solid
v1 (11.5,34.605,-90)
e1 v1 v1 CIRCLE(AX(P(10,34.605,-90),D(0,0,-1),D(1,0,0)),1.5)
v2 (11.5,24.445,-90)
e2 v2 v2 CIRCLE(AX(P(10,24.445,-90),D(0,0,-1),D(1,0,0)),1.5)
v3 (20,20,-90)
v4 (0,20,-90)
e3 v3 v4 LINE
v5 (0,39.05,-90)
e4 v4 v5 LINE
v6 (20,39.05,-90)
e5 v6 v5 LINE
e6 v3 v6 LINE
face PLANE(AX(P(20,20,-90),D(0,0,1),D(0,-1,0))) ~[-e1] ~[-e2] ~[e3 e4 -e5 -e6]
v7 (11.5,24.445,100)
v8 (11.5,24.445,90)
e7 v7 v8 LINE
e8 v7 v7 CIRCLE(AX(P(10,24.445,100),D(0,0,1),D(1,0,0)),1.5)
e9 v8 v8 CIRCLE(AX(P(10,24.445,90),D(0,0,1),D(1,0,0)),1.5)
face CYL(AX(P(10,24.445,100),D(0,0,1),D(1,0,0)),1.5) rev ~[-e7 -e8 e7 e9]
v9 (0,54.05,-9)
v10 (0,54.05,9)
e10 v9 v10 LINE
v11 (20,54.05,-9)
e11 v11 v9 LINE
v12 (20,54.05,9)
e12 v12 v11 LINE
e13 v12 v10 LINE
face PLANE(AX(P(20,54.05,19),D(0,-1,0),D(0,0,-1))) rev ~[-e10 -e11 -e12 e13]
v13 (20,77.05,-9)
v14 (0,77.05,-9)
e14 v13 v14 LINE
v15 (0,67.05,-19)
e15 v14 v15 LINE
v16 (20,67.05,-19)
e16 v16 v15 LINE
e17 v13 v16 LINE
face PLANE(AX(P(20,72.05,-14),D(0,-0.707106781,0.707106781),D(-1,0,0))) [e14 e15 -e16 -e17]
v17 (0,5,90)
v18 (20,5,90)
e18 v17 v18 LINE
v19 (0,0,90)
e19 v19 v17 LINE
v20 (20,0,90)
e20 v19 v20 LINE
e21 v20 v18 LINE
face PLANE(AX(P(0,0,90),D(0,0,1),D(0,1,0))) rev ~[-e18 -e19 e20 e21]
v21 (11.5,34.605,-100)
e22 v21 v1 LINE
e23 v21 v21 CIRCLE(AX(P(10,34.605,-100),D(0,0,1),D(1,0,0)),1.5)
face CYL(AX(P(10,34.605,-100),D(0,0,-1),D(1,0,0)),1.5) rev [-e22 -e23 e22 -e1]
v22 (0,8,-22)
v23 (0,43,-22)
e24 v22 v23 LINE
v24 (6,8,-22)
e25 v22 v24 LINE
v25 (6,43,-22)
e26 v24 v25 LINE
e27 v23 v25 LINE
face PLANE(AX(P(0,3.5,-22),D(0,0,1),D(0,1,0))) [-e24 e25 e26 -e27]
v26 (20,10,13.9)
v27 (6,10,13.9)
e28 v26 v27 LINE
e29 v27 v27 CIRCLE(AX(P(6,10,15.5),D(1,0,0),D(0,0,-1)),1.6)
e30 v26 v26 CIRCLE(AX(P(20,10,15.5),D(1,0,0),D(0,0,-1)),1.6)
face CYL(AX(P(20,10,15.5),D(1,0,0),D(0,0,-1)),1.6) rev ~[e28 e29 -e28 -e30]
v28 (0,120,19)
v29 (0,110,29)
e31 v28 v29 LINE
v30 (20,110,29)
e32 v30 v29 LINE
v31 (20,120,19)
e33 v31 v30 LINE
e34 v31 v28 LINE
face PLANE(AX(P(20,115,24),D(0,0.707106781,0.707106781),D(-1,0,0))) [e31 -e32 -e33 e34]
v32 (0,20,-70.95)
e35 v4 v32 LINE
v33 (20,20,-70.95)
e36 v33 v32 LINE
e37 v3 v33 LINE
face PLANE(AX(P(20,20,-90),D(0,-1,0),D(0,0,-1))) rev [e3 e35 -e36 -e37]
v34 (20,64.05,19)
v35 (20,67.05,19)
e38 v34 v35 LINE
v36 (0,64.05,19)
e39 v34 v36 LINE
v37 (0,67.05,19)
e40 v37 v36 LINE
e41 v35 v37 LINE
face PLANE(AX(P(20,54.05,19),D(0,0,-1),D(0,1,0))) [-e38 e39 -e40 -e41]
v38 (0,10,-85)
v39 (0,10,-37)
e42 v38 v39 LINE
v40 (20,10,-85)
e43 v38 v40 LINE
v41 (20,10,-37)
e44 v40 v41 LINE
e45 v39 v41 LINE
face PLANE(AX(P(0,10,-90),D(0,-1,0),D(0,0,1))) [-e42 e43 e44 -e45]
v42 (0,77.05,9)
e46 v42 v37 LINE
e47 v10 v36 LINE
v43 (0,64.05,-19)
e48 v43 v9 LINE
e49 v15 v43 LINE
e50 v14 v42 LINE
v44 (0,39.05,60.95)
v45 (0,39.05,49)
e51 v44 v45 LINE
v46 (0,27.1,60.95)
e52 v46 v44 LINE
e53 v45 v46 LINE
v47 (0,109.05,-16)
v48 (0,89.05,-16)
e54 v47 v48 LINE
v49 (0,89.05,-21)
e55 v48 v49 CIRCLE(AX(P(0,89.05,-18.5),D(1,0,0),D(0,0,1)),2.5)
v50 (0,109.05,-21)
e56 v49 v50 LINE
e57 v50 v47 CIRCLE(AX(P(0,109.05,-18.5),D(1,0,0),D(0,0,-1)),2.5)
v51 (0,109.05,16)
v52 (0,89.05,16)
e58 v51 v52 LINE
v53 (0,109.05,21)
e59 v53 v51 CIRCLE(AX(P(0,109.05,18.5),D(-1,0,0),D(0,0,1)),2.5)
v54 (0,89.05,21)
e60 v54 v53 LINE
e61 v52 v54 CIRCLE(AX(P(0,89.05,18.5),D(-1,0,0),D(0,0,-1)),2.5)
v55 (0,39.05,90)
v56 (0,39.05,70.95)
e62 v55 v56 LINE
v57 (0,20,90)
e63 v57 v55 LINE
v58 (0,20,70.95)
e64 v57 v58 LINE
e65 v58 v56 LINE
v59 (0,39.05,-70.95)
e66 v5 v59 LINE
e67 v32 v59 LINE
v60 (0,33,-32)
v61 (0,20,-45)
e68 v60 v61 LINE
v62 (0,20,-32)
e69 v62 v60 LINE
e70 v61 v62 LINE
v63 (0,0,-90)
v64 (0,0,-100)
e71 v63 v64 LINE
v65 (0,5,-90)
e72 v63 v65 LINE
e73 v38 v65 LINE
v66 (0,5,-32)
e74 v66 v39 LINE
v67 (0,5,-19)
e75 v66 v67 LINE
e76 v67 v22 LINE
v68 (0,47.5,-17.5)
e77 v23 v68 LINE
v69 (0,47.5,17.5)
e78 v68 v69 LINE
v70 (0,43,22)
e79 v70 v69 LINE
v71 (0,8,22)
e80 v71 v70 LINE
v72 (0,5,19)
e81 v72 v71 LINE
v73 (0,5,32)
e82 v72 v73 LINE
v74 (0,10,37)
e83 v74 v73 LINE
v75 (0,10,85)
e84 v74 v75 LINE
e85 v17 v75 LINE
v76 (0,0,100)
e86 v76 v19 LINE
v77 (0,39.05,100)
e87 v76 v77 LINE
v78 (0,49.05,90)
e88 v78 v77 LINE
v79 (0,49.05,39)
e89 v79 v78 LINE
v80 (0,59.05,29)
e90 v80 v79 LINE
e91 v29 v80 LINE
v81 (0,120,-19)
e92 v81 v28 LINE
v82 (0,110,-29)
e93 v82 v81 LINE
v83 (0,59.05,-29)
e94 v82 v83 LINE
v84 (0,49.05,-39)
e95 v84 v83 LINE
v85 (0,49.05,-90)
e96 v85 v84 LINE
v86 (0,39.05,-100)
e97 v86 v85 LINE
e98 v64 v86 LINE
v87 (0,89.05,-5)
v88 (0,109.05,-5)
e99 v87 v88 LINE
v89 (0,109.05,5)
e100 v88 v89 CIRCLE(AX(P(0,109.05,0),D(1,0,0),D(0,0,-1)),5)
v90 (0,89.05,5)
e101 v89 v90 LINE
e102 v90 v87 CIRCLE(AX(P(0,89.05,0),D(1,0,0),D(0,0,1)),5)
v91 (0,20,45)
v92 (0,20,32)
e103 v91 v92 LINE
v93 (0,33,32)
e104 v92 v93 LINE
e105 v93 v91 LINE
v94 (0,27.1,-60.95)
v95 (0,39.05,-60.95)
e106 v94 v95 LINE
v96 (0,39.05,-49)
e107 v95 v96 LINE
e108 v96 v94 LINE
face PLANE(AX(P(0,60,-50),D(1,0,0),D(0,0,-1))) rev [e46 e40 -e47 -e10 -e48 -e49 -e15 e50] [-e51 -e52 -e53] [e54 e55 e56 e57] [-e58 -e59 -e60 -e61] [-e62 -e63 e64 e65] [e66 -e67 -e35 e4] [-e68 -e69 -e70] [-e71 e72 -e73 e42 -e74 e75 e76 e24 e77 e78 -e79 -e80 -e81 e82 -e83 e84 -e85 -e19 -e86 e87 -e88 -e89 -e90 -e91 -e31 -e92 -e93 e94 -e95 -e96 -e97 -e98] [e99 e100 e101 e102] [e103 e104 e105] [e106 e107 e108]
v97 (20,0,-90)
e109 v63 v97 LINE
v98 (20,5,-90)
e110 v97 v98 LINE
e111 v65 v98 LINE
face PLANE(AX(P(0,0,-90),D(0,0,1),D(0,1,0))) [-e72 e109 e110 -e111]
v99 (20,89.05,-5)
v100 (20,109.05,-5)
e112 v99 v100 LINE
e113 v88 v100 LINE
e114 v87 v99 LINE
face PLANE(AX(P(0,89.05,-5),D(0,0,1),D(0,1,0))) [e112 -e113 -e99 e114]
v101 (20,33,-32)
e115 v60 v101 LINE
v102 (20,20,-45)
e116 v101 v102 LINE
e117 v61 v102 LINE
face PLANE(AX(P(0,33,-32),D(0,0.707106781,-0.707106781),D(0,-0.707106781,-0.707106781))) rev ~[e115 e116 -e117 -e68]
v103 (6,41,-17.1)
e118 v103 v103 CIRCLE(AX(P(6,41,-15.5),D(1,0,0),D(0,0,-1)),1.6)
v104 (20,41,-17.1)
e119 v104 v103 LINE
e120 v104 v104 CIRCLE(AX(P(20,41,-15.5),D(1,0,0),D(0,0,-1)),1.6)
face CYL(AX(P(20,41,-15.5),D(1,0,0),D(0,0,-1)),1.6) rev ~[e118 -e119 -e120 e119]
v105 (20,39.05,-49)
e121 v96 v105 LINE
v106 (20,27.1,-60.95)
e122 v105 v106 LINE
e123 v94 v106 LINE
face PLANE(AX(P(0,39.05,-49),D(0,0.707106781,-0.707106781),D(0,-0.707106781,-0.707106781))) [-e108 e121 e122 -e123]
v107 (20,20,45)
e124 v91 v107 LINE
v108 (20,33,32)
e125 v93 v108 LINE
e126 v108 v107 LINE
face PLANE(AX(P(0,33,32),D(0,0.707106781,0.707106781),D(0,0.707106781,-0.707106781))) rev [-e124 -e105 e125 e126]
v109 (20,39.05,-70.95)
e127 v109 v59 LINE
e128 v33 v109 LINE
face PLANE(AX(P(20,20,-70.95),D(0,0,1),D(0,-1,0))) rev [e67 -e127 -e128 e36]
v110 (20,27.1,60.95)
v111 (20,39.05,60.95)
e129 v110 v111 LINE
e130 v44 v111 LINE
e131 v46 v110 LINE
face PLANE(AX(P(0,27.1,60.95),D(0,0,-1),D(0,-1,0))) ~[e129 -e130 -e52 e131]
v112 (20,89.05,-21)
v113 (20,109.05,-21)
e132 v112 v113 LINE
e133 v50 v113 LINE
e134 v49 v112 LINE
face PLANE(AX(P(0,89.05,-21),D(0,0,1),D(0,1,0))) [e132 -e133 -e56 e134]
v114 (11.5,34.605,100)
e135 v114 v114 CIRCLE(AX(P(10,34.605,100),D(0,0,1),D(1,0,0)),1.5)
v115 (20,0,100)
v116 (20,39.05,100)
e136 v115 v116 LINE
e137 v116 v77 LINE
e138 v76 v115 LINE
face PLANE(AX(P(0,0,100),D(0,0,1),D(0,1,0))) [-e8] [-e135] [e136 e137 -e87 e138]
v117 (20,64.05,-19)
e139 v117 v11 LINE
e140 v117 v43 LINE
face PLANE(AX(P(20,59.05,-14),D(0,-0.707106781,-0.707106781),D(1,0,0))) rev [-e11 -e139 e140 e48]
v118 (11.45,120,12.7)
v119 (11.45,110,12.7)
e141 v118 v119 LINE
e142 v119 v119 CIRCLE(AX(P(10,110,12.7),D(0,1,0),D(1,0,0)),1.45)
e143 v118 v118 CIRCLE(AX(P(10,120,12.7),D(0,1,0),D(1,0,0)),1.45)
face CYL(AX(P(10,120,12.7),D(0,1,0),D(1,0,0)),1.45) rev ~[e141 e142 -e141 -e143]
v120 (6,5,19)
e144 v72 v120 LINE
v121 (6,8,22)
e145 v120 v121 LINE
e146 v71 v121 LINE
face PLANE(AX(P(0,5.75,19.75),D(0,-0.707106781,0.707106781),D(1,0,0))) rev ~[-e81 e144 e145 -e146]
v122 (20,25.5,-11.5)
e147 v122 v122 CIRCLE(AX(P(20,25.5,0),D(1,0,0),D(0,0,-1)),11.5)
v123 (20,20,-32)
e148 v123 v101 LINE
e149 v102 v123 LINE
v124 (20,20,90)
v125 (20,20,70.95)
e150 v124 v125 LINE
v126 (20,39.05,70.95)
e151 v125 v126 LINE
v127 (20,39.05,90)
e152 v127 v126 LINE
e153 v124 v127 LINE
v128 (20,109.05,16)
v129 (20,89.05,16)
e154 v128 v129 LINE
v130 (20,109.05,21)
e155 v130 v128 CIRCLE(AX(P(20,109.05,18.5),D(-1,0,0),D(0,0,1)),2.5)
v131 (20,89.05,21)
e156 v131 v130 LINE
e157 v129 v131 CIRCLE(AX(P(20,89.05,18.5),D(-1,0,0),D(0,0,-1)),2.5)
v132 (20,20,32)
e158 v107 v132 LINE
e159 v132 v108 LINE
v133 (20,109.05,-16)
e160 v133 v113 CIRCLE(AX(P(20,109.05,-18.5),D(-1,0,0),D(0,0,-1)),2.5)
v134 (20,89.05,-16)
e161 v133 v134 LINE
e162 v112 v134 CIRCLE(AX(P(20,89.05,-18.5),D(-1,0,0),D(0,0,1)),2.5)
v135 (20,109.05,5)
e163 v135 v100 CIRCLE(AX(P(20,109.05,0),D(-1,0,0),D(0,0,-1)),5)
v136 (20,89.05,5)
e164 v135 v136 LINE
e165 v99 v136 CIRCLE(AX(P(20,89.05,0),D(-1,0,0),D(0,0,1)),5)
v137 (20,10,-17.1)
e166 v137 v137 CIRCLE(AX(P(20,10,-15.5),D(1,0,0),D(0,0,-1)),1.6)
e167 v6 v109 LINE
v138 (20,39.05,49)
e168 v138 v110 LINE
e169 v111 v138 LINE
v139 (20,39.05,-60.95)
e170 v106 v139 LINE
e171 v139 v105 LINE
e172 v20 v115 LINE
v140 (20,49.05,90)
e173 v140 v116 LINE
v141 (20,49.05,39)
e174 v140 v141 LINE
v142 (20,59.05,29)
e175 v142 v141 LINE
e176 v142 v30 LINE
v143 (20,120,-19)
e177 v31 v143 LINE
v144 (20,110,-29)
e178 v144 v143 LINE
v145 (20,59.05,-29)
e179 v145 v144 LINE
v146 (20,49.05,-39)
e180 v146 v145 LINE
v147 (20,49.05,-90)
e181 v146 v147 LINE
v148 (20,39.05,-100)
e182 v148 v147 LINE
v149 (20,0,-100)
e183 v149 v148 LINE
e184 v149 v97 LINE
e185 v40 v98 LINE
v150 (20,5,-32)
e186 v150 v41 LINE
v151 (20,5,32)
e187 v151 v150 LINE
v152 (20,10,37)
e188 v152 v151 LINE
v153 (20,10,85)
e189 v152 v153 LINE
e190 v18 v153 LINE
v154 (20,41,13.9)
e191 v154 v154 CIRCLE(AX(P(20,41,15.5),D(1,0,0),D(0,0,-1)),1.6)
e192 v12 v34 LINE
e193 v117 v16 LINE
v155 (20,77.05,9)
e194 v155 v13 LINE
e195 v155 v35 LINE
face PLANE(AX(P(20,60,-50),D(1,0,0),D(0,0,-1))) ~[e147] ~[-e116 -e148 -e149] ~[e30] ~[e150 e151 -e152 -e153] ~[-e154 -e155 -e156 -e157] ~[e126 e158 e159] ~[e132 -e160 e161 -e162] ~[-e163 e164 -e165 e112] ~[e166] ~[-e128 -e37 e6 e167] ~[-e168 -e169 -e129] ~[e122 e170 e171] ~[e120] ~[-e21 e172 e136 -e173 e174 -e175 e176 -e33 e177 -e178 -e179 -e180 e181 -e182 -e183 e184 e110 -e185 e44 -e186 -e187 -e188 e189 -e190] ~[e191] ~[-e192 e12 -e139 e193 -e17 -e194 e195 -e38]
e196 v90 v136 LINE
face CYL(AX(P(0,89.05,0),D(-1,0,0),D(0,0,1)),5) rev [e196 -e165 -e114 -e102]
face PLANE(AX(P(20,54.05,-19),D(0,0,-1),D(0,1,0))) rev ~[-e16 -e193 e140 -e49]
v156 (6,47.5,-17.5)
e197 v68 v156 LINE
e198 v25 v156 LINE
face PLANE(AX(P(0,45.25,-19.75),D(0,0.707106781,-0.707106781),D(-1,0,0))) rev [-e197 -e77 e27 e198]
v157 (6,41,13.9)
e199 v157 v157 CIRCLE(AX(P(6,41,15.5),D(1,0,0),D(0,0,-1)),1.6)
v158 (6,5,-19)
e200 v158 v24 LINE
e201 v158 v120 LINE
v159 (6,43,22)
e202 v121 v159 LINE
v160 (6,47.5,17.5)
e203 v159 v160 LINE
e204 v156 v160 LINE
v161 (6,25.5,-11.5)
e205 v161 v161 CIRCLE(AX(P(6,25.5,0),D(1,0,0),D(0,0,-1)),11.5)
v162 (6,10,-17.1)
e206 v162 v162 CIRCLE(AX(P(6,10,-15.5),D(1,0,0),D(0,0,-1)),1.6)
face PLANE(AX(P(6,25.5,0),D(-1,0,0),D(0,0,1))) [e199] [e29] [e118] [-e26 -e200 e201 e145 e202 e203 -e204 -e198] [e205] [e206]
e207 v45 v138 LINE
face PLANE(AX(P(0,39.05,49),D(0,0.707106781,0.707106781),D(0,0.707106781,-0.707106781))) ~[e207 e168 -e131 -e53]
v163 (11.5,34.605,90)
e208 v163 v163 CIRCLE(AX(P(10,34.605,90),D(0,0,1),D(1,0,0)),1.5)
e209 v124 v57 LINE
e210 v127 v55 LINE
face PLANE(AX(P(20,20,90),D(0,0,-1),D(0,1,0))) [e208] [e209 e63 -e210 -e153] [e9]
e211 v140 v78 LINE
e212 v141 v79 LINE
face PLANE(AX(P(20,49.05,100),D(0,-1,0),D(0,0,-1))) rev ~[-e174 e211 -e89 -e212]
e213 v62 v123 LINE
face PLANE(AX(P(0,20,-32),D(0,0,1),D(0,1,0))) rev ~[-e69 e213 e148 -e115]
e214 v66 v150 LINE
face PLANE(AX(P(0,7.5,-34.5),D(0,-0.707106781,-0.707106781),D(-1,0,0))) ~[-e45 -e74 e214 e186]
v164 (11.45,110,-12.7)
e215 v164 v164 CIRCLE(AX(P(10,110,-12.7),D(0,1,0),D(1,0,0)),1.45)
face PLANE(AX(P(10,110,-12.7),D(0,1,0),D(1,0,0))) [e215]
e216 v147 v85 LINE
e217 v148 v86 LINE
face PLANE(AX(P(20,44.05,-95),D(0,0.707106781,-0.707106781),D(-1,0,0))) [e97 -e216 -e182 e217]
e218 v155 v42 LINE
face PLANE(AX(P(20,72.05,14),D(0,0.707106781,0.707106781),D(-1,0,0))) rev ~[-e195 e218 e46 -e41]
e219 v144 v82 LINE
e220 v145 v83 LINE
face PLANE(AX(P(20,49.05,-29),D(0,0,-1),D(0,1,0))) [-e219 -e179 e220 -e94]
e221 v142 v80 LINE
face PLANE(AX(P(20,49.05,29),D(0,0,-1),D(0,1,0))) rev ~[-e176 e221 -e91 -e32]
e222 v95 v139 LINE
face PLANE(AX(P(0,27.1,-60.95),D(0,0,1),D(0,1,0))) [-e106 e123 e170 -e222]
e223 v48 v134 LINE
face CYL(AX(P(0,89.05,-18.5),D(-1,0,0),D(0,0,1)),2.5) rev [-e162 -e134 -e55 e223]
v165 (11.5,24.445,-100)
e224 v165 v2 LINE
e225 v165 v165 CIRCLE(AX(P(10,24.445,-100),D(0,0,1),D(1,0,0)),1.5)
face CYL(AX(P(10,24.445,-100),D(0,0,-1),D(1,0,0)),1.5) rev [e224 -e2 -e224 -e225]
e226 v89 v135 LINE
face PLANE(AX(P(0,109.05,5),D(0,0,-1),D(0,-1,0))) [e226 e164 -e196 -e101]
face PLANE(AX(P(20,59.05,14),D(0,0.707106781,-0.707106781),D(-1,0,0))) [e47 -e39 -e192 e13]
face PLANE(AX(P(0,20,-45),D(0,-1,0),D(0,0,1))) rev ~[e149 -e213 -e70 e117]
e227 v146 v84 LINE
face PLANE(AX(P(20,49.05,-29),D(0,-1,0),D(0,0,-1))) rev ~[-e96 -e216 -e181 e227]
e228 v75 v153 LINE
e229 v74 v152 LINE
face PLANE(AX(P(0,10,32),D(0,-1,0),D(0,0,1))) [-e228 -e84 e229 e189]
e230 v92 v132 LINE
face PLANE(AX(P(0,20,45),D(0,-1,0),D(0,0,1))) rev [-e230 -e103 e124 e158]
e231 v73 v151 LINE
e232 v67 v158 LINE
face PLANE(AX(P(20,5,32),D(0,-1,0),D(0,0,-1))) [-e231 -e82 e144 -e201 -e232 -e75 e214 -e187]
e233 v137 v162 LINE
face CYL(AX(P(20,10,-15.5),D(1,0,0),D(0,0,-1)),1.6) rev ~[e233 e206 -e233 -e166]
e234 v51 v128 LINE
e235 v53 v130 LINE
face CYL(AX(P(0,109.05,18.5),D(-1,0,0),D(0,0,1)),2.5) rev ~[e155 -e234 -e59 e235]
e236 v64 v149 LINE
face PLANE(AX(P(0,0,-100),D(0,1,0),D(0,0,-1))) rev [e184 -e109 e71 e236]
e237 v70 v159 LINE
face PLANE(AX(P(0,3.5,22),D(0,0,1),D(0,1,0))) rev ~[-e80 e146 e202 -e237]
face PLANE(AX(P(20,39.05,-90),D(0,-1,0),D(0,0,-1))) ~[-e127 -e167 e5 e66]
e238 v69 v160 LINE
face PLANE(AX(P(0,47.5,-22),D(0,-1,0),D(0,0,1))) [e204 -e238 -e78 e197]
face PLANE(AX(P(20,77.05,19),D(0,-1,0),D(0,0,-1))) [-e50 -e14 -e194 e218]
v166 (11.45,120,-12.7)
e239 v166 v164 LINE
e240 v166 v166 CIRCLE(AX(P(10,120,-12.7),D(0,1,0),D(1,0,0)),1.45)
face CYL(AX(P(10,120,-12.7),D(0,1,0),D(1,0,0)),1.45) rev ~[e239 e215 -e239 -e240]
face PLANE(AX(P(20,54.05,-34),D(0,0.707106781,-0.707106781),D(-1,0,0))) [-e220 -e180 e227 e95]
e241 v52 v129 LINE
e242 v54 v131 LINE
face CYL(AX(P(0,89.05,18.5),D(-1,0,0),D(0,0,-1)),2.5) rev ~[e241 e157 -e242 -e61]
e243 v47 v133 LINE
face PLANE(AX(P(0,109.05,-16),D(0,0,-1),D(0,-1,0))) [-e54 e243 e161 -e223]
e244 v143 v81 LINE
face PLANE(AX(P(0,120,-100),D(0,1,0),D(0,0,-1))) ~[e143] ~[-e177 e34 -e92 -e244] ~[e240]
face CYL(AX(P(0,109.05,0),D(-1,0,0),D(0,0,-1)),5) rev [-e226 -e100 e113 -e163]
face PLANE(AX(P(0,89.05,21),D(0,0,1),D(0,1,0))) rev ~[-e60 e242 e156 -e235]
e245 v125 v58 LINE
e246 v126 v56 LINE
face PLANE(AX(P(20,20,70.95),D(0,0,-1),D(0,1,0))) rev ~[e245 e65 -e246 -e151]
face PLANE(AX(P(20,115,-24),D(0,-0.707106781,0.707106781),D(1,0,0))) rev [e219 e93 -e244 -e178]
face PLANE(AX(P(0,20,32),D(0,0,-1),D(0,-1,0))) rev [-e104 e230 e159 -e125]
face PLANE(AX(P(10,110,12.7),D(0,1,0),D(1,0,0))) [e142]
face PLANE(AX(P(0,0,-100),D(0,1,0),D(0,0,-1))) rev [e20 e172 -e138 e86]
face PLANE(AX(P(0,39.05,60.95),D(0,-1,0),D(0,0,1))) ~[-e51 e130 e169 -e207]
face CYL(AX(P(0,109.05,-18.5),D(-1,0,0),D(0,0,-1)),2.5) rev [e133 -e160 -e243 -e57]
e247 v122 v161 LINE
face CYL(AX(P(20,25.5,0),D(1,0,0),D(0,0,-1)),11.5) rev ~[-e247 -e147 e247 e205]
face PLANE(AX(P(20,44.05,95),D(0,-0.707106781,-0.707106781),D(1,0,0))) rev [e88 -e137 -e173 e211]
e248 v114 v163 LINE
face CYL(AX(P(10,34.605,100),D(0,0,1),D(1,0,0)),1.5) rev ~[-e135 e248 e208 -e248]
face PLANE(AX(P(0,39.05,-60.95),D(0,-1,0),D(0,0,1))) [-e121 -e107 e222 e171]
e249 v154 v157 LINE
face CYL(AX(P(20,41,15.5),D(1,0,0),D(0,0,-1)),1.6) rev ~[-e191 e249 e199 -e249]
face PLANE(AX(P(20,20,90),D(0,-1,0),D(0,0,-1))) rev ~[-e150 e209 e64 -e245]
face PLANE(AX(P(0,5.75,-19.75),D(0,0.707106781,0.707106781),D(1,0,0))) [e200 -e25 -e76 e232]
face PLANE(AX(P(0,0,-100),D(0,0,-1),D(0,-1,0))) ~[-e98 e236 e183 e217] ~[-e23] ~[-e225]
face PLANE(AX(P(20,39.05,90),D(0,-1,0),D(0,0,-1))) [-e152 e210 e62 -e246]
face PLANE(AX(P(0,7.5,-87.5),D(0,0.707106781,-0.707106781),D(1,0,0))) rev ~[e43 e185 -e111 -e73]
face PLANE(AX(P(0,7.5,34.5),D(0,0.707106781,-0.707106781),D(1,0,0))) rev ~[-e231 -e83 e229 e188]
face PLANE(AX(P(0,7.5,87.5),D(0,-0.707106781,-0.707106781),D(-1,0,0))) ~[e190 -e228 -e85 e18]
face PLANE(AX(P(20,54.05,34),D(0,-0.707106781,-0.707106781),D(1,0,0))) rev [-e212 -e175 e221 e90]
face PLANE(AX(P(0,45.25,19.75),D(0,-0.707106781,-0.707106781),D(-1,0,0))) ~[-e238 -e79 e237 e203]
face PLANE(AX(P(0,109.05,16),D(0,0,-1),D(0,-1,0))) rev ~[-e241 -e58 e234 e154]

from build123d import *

# Parameters (mm, degrees)
SKETCH1_W           = 100
SKETCH1_H           = 120
BOSS_EXTRUDE1_DEPTH = 20
SKETCH2_W           = 19.05
SKETCH2_H           = 19.05
CUT_EXTRUDE1_DEPTH  = 20
SKETCH3_R           = 1.5
CUT_EXTRUDE2_DEPTH  = 20
SKETCH5_R           = 11.5
SKETCH5_R_2         = 1.6
CUT_EXTRUDE3_DEPTH  = 20
SKETCH6_W           = 44
SKETCH6_H           = 44
MOTOR_INDENT_DEPTH  = 6
BEARING_BLOCK_DEPTH = 21
SKETCH8_W           = 71
SKETCH8_H           = 70.95
CUT_EXTRUDE6_DEPTH  = 21
CHAMFER1_SIZE       = 10
SKETCH10_W          = 58
SKETCH10_H          = 10
CUT_EXTRUDE7_DEPTH  = 21
CHAMFER2_SIZE       = 5
CHAMFER3_SIZE       = 4.5
SKETCH11_R          = 1.45
CUT_EXTRUDE8_DEPTH  = 10
SKETCH12_W          = 38
SKETCH12_H          = 23
CUT_EXTRUDE9_DEPTH  = 21
CHAMFER4_SIZE       = 10
CUT_EXTRUDE10_DEPTH = 21
SKETCH14_W          = 64
SKETCH14_H          = 5
CUT_EXTRUDE11_DEPTH = 21


with BuildPart() as part:
    # Sketch1 → Boss-Extrude1 (new body)
    with BuildSketch(Plane(origin=(0, 0, 0), x_dir=(0, 0, -1), z_dir=(1, 0, 0))):
        with Locations((-50, 60)):
            Rectangle(SKETCH1_W, SKETCH1_H)
    boss_extrude1 = extrude(amount=BOSS_EXTRUDE1_DEPTH)

    # Sketch2 → Cut-Extrude1 (cut)
    with BuildSketch(Plane(origin=(20, 0, 0), x_dir=(0, 0, -1), z_dir=(1, 0, 0))):
        with Locations((-80.475, 29.525)):
            Rectangle(SKETCH2_W, SKETCH2_H)
    cut_extrude1 = extrude(amount=-CUT_EXTRUDE1_DEPTH, mode=Mode.SUBTRACT)

    # Sketch3 → Cut-Extrude2 (cut)
    with BuildSketch(Plane.XY.offset(100)):
        with Locations((10, 34.605)):
            Circle(SKETCH3_R)
        with Locations((10, 24.445)):
            Circle(SKETCH3_R)
    cut_extrude2 = extrude(amount=-CUT_EXTRUDE2_DEPTH, mode=Mode.SUBTRACT)

    # Mirror1: Boss-Extrude1, Cut-Extrude1, Cut-Extrude2 across plane
    add(boss_extrude1.mirror(Plane(origin=(20, 0, 0), x_dir=(1, 0, 0), z_dir=(0, 0, 1))))
    add(cut_extrude1.mirror(Plane(origin=(20, 0, 0), x_dir=(1, 0, 0), z_dir=(0, 0, 1))), mode=Mode.SUBTRACT)
    add(cut_extrude2.mirror(Plane(origin=(20, 0, 0), x_dir=(1, 0, 0), z_dir=(0, 0, 1))), mode=Mode.SUBTRACT)

    # Sketch5 → Cut-Extrude3 (cut)
    with BuildSketch(Plane(origin=(20, 0, 0), x_dir=(0, 0, -1), z_dir=(1, 0, 0))):
        with Locations((0, 25.5)):
            Circle(SKETCH5_R)
        with Locations((-15.5, 41)):
            Circle(SKETCH5_R_2)
        with Locations((15.5, 41)):
            Circle(SKETCH5_R_2)
        with Locations((15.5, 10)):
            Circle(SKETCH5_R_2)
        with Locations((-15.5, 10)):
            Circle(SKETCH5_R_2)
    extrude(amount=-CUT_EXTRUDE3_DEPTH, mode=Mode.SUBTRACT)

    # Sketch6 → Motor indent (cut)
    with BuildSketch(Plane.ZY):
        with Locations((0, 25.5)):
            Rectangle(SKETCH6_W, SKETCH6_H)
    extrude(amount=-MOTOR_INDENT_DEPTH, mode=Mode.SUBTRACT)

    # Sketch7 → Bearing Block (cut, through all)
    with BuildSketch(Plane.ZY):
        with BuildLine():
            Line((5, 109.05), (5, 89.05))
            ThreePointArc((5, 89.05), (0, 84.05), (-5, 89.05))
            Line((-5, 89.05), (-5, 109.05))
            ThreePointArc((-5, 109.05), (0, 114.05), (5, 109.05))
        make_face()
        with BuildLine():
            Line((-16, 109.05), (-16, 89.05))
            ThreePointArc((-16, 89.05), (-18.5, 86.55), (-21, 89.05))
            Line((-21, 89.05), (-21, 109.05))
            ThreePointArc((-21, 109.05), (-18.5, 111.55), (-16, 109.05))
        make_face()
        with BuildLine():
            Line((16, 109.05), (16, 89.05))
            ThreePointArc((16, 89.05), (18.5, 86.55), (21, 89.05))
            Line((21, 89.05), (21, 109.05))
            ThreePointArc((21, 109.05), (18.5, 111.55), (16, 109.05))
        make_face()
    extrude(amount=-BEARING_BLOCK_DEPTH, mode=Mode.SUBTRACT)

    # Sketch8 → Cut-Extrude6 (cut, through all)
    with BuildSketch(Plane(origin=(20, 0, 0), x_dir=(0, 0, -1), z_dir=(1, 0, 0))):
        with Locations((-64.5, 84.525)):
            Rectangle(SKETCH8_W, SKETCH8_H)
        with Locations((64.5, 84.525)):
            Rectangle(SKETCH8_W, SKETCH8_H)
    extrude(amount=-CUT_EXTRUDE6_DEPTH, mode=Mode.SUBTRACT)

    # Chamfer1
    chamfer1_edges = [part.edges().sort_by_distance(p)[0] for p in [
        (10, 120, 29),
        (10, 49.05, 29),
        (10, 49.05, 100),
        (10, 49.05, -100),
        (10, 49.05, -29),
        (10, 120, -29),
    ]]
    chamfer(chamfer1_edges, length=CHAMFER1_SIZE)

    # Sketch10 → Cut-Extrude7 (cut, through all)
    with BuildSketch(Plane.ZY):
        with Locations((-61, 5)):
            Rectangle(SKETCH10_W, SKETCH10_H)
        with Locations((61, 5)):
            Rectangle(SKETCH10_W, SKETCH10_H)
    extrude(amount=-CUT_EXTRUDE7_DEPTH, mode=Mode.SUBTRACT)

    # Chamfer2
    chamfer2_edges = [part.edges().sort_by_distance(p)[0] for p in [
        (10, 10, -90),
        (10, 10, -32),
        (10, 10, 32),
        (10, 10, 90),
    ]]
    chamfer(chamfer2_edges, length=CHAMFER2_SIZE)

    # Chamfer3
    chamfer3_edges = [part.edges().sort_by_distance(p)[0] for p in [
        (3, 47.5, 22),
        (3, 3.5, 22),
        (3, 3.5, -22),
        (3, 47.5, -22),
    ]]
    chamfer(chamfer3_edges, length=CHAMFER3_SIZE)

    # Sketch11 → Cut-Extrude8 (cut)
    with BuildSketch(Plane(origin=(0, 120, 0), x_dir=(1, 0, 0), z_dir=(0, 1, 0))):
        with Locations((10, -12.7)):
            Circle(SKETCH11_R)
        with Locations((10, 12.7)):
            Circle(SKETCH11_R)
    extrude(amount=-CUT_EXTRUDE8_DEPTH, mode=Mode.SUBTRACT)

    # Sketch12 → Cut-Extrude9 (cut, through all)
    with BuildSketch(Plane(origin=(20, 0, 0), x_dir=(0, 0, -1), z_dir=(1, 0, 0))):
        with Locations((0, 65.55)):
            Rectangle(SKETCH12_W, SKETCH12_H)
    extrude(amount=-CUT_EXTRUDE9_DEPTH, mode=Mode.SUBTRACT)

    # Chamfer4
    chamfer4_edges = [part.edges().sort_by_distance(p)[0] for p in [
        (10, 54.05, 19),
        (10, 77.05, 19),
        (10, 77.05, -19),
        (10, 54.05, -19),
    ]]
    chamfer(chamfer4_edges, length=CHAMFER4_SIZE)

    # Sketch13 → Cut-Extrude10 (cut, through all)
    with BuildSketch(Plane.ZY):
        Polygon((-49, 39.05), (-60.95, 27.1), (-60.95, 39.05), align=None)
        Polygon((-32, 33), (-45, 20), (-32, 20), align=None)
    cut_extrude10 = extrude(amount=-CUT_EXTRUDE10_DEPTH, mode=Mode.SUBTRACT)

    # Mirror2: Cut-Extrude10 across plane
    add(cut_extrude10.mirror(Plane.XY), mode=Mode.SUBTRACT)

    # Sketch14 → Cut-Extrude11 (cut, through all)
    with BuildSketch(Plane(origin=(20, 0, 0), x_dir=(0, 0, -1), z_dir=(1, 0, 0))):
        with Locations((0, 2.5)):
            Rectangle(SKETCH14_W, SKETCH14_H)
    extrude(amount=-CUT_EXTRUDE11_DEPTH, mode=Mode.SUBTRACT)


solid = part.part
